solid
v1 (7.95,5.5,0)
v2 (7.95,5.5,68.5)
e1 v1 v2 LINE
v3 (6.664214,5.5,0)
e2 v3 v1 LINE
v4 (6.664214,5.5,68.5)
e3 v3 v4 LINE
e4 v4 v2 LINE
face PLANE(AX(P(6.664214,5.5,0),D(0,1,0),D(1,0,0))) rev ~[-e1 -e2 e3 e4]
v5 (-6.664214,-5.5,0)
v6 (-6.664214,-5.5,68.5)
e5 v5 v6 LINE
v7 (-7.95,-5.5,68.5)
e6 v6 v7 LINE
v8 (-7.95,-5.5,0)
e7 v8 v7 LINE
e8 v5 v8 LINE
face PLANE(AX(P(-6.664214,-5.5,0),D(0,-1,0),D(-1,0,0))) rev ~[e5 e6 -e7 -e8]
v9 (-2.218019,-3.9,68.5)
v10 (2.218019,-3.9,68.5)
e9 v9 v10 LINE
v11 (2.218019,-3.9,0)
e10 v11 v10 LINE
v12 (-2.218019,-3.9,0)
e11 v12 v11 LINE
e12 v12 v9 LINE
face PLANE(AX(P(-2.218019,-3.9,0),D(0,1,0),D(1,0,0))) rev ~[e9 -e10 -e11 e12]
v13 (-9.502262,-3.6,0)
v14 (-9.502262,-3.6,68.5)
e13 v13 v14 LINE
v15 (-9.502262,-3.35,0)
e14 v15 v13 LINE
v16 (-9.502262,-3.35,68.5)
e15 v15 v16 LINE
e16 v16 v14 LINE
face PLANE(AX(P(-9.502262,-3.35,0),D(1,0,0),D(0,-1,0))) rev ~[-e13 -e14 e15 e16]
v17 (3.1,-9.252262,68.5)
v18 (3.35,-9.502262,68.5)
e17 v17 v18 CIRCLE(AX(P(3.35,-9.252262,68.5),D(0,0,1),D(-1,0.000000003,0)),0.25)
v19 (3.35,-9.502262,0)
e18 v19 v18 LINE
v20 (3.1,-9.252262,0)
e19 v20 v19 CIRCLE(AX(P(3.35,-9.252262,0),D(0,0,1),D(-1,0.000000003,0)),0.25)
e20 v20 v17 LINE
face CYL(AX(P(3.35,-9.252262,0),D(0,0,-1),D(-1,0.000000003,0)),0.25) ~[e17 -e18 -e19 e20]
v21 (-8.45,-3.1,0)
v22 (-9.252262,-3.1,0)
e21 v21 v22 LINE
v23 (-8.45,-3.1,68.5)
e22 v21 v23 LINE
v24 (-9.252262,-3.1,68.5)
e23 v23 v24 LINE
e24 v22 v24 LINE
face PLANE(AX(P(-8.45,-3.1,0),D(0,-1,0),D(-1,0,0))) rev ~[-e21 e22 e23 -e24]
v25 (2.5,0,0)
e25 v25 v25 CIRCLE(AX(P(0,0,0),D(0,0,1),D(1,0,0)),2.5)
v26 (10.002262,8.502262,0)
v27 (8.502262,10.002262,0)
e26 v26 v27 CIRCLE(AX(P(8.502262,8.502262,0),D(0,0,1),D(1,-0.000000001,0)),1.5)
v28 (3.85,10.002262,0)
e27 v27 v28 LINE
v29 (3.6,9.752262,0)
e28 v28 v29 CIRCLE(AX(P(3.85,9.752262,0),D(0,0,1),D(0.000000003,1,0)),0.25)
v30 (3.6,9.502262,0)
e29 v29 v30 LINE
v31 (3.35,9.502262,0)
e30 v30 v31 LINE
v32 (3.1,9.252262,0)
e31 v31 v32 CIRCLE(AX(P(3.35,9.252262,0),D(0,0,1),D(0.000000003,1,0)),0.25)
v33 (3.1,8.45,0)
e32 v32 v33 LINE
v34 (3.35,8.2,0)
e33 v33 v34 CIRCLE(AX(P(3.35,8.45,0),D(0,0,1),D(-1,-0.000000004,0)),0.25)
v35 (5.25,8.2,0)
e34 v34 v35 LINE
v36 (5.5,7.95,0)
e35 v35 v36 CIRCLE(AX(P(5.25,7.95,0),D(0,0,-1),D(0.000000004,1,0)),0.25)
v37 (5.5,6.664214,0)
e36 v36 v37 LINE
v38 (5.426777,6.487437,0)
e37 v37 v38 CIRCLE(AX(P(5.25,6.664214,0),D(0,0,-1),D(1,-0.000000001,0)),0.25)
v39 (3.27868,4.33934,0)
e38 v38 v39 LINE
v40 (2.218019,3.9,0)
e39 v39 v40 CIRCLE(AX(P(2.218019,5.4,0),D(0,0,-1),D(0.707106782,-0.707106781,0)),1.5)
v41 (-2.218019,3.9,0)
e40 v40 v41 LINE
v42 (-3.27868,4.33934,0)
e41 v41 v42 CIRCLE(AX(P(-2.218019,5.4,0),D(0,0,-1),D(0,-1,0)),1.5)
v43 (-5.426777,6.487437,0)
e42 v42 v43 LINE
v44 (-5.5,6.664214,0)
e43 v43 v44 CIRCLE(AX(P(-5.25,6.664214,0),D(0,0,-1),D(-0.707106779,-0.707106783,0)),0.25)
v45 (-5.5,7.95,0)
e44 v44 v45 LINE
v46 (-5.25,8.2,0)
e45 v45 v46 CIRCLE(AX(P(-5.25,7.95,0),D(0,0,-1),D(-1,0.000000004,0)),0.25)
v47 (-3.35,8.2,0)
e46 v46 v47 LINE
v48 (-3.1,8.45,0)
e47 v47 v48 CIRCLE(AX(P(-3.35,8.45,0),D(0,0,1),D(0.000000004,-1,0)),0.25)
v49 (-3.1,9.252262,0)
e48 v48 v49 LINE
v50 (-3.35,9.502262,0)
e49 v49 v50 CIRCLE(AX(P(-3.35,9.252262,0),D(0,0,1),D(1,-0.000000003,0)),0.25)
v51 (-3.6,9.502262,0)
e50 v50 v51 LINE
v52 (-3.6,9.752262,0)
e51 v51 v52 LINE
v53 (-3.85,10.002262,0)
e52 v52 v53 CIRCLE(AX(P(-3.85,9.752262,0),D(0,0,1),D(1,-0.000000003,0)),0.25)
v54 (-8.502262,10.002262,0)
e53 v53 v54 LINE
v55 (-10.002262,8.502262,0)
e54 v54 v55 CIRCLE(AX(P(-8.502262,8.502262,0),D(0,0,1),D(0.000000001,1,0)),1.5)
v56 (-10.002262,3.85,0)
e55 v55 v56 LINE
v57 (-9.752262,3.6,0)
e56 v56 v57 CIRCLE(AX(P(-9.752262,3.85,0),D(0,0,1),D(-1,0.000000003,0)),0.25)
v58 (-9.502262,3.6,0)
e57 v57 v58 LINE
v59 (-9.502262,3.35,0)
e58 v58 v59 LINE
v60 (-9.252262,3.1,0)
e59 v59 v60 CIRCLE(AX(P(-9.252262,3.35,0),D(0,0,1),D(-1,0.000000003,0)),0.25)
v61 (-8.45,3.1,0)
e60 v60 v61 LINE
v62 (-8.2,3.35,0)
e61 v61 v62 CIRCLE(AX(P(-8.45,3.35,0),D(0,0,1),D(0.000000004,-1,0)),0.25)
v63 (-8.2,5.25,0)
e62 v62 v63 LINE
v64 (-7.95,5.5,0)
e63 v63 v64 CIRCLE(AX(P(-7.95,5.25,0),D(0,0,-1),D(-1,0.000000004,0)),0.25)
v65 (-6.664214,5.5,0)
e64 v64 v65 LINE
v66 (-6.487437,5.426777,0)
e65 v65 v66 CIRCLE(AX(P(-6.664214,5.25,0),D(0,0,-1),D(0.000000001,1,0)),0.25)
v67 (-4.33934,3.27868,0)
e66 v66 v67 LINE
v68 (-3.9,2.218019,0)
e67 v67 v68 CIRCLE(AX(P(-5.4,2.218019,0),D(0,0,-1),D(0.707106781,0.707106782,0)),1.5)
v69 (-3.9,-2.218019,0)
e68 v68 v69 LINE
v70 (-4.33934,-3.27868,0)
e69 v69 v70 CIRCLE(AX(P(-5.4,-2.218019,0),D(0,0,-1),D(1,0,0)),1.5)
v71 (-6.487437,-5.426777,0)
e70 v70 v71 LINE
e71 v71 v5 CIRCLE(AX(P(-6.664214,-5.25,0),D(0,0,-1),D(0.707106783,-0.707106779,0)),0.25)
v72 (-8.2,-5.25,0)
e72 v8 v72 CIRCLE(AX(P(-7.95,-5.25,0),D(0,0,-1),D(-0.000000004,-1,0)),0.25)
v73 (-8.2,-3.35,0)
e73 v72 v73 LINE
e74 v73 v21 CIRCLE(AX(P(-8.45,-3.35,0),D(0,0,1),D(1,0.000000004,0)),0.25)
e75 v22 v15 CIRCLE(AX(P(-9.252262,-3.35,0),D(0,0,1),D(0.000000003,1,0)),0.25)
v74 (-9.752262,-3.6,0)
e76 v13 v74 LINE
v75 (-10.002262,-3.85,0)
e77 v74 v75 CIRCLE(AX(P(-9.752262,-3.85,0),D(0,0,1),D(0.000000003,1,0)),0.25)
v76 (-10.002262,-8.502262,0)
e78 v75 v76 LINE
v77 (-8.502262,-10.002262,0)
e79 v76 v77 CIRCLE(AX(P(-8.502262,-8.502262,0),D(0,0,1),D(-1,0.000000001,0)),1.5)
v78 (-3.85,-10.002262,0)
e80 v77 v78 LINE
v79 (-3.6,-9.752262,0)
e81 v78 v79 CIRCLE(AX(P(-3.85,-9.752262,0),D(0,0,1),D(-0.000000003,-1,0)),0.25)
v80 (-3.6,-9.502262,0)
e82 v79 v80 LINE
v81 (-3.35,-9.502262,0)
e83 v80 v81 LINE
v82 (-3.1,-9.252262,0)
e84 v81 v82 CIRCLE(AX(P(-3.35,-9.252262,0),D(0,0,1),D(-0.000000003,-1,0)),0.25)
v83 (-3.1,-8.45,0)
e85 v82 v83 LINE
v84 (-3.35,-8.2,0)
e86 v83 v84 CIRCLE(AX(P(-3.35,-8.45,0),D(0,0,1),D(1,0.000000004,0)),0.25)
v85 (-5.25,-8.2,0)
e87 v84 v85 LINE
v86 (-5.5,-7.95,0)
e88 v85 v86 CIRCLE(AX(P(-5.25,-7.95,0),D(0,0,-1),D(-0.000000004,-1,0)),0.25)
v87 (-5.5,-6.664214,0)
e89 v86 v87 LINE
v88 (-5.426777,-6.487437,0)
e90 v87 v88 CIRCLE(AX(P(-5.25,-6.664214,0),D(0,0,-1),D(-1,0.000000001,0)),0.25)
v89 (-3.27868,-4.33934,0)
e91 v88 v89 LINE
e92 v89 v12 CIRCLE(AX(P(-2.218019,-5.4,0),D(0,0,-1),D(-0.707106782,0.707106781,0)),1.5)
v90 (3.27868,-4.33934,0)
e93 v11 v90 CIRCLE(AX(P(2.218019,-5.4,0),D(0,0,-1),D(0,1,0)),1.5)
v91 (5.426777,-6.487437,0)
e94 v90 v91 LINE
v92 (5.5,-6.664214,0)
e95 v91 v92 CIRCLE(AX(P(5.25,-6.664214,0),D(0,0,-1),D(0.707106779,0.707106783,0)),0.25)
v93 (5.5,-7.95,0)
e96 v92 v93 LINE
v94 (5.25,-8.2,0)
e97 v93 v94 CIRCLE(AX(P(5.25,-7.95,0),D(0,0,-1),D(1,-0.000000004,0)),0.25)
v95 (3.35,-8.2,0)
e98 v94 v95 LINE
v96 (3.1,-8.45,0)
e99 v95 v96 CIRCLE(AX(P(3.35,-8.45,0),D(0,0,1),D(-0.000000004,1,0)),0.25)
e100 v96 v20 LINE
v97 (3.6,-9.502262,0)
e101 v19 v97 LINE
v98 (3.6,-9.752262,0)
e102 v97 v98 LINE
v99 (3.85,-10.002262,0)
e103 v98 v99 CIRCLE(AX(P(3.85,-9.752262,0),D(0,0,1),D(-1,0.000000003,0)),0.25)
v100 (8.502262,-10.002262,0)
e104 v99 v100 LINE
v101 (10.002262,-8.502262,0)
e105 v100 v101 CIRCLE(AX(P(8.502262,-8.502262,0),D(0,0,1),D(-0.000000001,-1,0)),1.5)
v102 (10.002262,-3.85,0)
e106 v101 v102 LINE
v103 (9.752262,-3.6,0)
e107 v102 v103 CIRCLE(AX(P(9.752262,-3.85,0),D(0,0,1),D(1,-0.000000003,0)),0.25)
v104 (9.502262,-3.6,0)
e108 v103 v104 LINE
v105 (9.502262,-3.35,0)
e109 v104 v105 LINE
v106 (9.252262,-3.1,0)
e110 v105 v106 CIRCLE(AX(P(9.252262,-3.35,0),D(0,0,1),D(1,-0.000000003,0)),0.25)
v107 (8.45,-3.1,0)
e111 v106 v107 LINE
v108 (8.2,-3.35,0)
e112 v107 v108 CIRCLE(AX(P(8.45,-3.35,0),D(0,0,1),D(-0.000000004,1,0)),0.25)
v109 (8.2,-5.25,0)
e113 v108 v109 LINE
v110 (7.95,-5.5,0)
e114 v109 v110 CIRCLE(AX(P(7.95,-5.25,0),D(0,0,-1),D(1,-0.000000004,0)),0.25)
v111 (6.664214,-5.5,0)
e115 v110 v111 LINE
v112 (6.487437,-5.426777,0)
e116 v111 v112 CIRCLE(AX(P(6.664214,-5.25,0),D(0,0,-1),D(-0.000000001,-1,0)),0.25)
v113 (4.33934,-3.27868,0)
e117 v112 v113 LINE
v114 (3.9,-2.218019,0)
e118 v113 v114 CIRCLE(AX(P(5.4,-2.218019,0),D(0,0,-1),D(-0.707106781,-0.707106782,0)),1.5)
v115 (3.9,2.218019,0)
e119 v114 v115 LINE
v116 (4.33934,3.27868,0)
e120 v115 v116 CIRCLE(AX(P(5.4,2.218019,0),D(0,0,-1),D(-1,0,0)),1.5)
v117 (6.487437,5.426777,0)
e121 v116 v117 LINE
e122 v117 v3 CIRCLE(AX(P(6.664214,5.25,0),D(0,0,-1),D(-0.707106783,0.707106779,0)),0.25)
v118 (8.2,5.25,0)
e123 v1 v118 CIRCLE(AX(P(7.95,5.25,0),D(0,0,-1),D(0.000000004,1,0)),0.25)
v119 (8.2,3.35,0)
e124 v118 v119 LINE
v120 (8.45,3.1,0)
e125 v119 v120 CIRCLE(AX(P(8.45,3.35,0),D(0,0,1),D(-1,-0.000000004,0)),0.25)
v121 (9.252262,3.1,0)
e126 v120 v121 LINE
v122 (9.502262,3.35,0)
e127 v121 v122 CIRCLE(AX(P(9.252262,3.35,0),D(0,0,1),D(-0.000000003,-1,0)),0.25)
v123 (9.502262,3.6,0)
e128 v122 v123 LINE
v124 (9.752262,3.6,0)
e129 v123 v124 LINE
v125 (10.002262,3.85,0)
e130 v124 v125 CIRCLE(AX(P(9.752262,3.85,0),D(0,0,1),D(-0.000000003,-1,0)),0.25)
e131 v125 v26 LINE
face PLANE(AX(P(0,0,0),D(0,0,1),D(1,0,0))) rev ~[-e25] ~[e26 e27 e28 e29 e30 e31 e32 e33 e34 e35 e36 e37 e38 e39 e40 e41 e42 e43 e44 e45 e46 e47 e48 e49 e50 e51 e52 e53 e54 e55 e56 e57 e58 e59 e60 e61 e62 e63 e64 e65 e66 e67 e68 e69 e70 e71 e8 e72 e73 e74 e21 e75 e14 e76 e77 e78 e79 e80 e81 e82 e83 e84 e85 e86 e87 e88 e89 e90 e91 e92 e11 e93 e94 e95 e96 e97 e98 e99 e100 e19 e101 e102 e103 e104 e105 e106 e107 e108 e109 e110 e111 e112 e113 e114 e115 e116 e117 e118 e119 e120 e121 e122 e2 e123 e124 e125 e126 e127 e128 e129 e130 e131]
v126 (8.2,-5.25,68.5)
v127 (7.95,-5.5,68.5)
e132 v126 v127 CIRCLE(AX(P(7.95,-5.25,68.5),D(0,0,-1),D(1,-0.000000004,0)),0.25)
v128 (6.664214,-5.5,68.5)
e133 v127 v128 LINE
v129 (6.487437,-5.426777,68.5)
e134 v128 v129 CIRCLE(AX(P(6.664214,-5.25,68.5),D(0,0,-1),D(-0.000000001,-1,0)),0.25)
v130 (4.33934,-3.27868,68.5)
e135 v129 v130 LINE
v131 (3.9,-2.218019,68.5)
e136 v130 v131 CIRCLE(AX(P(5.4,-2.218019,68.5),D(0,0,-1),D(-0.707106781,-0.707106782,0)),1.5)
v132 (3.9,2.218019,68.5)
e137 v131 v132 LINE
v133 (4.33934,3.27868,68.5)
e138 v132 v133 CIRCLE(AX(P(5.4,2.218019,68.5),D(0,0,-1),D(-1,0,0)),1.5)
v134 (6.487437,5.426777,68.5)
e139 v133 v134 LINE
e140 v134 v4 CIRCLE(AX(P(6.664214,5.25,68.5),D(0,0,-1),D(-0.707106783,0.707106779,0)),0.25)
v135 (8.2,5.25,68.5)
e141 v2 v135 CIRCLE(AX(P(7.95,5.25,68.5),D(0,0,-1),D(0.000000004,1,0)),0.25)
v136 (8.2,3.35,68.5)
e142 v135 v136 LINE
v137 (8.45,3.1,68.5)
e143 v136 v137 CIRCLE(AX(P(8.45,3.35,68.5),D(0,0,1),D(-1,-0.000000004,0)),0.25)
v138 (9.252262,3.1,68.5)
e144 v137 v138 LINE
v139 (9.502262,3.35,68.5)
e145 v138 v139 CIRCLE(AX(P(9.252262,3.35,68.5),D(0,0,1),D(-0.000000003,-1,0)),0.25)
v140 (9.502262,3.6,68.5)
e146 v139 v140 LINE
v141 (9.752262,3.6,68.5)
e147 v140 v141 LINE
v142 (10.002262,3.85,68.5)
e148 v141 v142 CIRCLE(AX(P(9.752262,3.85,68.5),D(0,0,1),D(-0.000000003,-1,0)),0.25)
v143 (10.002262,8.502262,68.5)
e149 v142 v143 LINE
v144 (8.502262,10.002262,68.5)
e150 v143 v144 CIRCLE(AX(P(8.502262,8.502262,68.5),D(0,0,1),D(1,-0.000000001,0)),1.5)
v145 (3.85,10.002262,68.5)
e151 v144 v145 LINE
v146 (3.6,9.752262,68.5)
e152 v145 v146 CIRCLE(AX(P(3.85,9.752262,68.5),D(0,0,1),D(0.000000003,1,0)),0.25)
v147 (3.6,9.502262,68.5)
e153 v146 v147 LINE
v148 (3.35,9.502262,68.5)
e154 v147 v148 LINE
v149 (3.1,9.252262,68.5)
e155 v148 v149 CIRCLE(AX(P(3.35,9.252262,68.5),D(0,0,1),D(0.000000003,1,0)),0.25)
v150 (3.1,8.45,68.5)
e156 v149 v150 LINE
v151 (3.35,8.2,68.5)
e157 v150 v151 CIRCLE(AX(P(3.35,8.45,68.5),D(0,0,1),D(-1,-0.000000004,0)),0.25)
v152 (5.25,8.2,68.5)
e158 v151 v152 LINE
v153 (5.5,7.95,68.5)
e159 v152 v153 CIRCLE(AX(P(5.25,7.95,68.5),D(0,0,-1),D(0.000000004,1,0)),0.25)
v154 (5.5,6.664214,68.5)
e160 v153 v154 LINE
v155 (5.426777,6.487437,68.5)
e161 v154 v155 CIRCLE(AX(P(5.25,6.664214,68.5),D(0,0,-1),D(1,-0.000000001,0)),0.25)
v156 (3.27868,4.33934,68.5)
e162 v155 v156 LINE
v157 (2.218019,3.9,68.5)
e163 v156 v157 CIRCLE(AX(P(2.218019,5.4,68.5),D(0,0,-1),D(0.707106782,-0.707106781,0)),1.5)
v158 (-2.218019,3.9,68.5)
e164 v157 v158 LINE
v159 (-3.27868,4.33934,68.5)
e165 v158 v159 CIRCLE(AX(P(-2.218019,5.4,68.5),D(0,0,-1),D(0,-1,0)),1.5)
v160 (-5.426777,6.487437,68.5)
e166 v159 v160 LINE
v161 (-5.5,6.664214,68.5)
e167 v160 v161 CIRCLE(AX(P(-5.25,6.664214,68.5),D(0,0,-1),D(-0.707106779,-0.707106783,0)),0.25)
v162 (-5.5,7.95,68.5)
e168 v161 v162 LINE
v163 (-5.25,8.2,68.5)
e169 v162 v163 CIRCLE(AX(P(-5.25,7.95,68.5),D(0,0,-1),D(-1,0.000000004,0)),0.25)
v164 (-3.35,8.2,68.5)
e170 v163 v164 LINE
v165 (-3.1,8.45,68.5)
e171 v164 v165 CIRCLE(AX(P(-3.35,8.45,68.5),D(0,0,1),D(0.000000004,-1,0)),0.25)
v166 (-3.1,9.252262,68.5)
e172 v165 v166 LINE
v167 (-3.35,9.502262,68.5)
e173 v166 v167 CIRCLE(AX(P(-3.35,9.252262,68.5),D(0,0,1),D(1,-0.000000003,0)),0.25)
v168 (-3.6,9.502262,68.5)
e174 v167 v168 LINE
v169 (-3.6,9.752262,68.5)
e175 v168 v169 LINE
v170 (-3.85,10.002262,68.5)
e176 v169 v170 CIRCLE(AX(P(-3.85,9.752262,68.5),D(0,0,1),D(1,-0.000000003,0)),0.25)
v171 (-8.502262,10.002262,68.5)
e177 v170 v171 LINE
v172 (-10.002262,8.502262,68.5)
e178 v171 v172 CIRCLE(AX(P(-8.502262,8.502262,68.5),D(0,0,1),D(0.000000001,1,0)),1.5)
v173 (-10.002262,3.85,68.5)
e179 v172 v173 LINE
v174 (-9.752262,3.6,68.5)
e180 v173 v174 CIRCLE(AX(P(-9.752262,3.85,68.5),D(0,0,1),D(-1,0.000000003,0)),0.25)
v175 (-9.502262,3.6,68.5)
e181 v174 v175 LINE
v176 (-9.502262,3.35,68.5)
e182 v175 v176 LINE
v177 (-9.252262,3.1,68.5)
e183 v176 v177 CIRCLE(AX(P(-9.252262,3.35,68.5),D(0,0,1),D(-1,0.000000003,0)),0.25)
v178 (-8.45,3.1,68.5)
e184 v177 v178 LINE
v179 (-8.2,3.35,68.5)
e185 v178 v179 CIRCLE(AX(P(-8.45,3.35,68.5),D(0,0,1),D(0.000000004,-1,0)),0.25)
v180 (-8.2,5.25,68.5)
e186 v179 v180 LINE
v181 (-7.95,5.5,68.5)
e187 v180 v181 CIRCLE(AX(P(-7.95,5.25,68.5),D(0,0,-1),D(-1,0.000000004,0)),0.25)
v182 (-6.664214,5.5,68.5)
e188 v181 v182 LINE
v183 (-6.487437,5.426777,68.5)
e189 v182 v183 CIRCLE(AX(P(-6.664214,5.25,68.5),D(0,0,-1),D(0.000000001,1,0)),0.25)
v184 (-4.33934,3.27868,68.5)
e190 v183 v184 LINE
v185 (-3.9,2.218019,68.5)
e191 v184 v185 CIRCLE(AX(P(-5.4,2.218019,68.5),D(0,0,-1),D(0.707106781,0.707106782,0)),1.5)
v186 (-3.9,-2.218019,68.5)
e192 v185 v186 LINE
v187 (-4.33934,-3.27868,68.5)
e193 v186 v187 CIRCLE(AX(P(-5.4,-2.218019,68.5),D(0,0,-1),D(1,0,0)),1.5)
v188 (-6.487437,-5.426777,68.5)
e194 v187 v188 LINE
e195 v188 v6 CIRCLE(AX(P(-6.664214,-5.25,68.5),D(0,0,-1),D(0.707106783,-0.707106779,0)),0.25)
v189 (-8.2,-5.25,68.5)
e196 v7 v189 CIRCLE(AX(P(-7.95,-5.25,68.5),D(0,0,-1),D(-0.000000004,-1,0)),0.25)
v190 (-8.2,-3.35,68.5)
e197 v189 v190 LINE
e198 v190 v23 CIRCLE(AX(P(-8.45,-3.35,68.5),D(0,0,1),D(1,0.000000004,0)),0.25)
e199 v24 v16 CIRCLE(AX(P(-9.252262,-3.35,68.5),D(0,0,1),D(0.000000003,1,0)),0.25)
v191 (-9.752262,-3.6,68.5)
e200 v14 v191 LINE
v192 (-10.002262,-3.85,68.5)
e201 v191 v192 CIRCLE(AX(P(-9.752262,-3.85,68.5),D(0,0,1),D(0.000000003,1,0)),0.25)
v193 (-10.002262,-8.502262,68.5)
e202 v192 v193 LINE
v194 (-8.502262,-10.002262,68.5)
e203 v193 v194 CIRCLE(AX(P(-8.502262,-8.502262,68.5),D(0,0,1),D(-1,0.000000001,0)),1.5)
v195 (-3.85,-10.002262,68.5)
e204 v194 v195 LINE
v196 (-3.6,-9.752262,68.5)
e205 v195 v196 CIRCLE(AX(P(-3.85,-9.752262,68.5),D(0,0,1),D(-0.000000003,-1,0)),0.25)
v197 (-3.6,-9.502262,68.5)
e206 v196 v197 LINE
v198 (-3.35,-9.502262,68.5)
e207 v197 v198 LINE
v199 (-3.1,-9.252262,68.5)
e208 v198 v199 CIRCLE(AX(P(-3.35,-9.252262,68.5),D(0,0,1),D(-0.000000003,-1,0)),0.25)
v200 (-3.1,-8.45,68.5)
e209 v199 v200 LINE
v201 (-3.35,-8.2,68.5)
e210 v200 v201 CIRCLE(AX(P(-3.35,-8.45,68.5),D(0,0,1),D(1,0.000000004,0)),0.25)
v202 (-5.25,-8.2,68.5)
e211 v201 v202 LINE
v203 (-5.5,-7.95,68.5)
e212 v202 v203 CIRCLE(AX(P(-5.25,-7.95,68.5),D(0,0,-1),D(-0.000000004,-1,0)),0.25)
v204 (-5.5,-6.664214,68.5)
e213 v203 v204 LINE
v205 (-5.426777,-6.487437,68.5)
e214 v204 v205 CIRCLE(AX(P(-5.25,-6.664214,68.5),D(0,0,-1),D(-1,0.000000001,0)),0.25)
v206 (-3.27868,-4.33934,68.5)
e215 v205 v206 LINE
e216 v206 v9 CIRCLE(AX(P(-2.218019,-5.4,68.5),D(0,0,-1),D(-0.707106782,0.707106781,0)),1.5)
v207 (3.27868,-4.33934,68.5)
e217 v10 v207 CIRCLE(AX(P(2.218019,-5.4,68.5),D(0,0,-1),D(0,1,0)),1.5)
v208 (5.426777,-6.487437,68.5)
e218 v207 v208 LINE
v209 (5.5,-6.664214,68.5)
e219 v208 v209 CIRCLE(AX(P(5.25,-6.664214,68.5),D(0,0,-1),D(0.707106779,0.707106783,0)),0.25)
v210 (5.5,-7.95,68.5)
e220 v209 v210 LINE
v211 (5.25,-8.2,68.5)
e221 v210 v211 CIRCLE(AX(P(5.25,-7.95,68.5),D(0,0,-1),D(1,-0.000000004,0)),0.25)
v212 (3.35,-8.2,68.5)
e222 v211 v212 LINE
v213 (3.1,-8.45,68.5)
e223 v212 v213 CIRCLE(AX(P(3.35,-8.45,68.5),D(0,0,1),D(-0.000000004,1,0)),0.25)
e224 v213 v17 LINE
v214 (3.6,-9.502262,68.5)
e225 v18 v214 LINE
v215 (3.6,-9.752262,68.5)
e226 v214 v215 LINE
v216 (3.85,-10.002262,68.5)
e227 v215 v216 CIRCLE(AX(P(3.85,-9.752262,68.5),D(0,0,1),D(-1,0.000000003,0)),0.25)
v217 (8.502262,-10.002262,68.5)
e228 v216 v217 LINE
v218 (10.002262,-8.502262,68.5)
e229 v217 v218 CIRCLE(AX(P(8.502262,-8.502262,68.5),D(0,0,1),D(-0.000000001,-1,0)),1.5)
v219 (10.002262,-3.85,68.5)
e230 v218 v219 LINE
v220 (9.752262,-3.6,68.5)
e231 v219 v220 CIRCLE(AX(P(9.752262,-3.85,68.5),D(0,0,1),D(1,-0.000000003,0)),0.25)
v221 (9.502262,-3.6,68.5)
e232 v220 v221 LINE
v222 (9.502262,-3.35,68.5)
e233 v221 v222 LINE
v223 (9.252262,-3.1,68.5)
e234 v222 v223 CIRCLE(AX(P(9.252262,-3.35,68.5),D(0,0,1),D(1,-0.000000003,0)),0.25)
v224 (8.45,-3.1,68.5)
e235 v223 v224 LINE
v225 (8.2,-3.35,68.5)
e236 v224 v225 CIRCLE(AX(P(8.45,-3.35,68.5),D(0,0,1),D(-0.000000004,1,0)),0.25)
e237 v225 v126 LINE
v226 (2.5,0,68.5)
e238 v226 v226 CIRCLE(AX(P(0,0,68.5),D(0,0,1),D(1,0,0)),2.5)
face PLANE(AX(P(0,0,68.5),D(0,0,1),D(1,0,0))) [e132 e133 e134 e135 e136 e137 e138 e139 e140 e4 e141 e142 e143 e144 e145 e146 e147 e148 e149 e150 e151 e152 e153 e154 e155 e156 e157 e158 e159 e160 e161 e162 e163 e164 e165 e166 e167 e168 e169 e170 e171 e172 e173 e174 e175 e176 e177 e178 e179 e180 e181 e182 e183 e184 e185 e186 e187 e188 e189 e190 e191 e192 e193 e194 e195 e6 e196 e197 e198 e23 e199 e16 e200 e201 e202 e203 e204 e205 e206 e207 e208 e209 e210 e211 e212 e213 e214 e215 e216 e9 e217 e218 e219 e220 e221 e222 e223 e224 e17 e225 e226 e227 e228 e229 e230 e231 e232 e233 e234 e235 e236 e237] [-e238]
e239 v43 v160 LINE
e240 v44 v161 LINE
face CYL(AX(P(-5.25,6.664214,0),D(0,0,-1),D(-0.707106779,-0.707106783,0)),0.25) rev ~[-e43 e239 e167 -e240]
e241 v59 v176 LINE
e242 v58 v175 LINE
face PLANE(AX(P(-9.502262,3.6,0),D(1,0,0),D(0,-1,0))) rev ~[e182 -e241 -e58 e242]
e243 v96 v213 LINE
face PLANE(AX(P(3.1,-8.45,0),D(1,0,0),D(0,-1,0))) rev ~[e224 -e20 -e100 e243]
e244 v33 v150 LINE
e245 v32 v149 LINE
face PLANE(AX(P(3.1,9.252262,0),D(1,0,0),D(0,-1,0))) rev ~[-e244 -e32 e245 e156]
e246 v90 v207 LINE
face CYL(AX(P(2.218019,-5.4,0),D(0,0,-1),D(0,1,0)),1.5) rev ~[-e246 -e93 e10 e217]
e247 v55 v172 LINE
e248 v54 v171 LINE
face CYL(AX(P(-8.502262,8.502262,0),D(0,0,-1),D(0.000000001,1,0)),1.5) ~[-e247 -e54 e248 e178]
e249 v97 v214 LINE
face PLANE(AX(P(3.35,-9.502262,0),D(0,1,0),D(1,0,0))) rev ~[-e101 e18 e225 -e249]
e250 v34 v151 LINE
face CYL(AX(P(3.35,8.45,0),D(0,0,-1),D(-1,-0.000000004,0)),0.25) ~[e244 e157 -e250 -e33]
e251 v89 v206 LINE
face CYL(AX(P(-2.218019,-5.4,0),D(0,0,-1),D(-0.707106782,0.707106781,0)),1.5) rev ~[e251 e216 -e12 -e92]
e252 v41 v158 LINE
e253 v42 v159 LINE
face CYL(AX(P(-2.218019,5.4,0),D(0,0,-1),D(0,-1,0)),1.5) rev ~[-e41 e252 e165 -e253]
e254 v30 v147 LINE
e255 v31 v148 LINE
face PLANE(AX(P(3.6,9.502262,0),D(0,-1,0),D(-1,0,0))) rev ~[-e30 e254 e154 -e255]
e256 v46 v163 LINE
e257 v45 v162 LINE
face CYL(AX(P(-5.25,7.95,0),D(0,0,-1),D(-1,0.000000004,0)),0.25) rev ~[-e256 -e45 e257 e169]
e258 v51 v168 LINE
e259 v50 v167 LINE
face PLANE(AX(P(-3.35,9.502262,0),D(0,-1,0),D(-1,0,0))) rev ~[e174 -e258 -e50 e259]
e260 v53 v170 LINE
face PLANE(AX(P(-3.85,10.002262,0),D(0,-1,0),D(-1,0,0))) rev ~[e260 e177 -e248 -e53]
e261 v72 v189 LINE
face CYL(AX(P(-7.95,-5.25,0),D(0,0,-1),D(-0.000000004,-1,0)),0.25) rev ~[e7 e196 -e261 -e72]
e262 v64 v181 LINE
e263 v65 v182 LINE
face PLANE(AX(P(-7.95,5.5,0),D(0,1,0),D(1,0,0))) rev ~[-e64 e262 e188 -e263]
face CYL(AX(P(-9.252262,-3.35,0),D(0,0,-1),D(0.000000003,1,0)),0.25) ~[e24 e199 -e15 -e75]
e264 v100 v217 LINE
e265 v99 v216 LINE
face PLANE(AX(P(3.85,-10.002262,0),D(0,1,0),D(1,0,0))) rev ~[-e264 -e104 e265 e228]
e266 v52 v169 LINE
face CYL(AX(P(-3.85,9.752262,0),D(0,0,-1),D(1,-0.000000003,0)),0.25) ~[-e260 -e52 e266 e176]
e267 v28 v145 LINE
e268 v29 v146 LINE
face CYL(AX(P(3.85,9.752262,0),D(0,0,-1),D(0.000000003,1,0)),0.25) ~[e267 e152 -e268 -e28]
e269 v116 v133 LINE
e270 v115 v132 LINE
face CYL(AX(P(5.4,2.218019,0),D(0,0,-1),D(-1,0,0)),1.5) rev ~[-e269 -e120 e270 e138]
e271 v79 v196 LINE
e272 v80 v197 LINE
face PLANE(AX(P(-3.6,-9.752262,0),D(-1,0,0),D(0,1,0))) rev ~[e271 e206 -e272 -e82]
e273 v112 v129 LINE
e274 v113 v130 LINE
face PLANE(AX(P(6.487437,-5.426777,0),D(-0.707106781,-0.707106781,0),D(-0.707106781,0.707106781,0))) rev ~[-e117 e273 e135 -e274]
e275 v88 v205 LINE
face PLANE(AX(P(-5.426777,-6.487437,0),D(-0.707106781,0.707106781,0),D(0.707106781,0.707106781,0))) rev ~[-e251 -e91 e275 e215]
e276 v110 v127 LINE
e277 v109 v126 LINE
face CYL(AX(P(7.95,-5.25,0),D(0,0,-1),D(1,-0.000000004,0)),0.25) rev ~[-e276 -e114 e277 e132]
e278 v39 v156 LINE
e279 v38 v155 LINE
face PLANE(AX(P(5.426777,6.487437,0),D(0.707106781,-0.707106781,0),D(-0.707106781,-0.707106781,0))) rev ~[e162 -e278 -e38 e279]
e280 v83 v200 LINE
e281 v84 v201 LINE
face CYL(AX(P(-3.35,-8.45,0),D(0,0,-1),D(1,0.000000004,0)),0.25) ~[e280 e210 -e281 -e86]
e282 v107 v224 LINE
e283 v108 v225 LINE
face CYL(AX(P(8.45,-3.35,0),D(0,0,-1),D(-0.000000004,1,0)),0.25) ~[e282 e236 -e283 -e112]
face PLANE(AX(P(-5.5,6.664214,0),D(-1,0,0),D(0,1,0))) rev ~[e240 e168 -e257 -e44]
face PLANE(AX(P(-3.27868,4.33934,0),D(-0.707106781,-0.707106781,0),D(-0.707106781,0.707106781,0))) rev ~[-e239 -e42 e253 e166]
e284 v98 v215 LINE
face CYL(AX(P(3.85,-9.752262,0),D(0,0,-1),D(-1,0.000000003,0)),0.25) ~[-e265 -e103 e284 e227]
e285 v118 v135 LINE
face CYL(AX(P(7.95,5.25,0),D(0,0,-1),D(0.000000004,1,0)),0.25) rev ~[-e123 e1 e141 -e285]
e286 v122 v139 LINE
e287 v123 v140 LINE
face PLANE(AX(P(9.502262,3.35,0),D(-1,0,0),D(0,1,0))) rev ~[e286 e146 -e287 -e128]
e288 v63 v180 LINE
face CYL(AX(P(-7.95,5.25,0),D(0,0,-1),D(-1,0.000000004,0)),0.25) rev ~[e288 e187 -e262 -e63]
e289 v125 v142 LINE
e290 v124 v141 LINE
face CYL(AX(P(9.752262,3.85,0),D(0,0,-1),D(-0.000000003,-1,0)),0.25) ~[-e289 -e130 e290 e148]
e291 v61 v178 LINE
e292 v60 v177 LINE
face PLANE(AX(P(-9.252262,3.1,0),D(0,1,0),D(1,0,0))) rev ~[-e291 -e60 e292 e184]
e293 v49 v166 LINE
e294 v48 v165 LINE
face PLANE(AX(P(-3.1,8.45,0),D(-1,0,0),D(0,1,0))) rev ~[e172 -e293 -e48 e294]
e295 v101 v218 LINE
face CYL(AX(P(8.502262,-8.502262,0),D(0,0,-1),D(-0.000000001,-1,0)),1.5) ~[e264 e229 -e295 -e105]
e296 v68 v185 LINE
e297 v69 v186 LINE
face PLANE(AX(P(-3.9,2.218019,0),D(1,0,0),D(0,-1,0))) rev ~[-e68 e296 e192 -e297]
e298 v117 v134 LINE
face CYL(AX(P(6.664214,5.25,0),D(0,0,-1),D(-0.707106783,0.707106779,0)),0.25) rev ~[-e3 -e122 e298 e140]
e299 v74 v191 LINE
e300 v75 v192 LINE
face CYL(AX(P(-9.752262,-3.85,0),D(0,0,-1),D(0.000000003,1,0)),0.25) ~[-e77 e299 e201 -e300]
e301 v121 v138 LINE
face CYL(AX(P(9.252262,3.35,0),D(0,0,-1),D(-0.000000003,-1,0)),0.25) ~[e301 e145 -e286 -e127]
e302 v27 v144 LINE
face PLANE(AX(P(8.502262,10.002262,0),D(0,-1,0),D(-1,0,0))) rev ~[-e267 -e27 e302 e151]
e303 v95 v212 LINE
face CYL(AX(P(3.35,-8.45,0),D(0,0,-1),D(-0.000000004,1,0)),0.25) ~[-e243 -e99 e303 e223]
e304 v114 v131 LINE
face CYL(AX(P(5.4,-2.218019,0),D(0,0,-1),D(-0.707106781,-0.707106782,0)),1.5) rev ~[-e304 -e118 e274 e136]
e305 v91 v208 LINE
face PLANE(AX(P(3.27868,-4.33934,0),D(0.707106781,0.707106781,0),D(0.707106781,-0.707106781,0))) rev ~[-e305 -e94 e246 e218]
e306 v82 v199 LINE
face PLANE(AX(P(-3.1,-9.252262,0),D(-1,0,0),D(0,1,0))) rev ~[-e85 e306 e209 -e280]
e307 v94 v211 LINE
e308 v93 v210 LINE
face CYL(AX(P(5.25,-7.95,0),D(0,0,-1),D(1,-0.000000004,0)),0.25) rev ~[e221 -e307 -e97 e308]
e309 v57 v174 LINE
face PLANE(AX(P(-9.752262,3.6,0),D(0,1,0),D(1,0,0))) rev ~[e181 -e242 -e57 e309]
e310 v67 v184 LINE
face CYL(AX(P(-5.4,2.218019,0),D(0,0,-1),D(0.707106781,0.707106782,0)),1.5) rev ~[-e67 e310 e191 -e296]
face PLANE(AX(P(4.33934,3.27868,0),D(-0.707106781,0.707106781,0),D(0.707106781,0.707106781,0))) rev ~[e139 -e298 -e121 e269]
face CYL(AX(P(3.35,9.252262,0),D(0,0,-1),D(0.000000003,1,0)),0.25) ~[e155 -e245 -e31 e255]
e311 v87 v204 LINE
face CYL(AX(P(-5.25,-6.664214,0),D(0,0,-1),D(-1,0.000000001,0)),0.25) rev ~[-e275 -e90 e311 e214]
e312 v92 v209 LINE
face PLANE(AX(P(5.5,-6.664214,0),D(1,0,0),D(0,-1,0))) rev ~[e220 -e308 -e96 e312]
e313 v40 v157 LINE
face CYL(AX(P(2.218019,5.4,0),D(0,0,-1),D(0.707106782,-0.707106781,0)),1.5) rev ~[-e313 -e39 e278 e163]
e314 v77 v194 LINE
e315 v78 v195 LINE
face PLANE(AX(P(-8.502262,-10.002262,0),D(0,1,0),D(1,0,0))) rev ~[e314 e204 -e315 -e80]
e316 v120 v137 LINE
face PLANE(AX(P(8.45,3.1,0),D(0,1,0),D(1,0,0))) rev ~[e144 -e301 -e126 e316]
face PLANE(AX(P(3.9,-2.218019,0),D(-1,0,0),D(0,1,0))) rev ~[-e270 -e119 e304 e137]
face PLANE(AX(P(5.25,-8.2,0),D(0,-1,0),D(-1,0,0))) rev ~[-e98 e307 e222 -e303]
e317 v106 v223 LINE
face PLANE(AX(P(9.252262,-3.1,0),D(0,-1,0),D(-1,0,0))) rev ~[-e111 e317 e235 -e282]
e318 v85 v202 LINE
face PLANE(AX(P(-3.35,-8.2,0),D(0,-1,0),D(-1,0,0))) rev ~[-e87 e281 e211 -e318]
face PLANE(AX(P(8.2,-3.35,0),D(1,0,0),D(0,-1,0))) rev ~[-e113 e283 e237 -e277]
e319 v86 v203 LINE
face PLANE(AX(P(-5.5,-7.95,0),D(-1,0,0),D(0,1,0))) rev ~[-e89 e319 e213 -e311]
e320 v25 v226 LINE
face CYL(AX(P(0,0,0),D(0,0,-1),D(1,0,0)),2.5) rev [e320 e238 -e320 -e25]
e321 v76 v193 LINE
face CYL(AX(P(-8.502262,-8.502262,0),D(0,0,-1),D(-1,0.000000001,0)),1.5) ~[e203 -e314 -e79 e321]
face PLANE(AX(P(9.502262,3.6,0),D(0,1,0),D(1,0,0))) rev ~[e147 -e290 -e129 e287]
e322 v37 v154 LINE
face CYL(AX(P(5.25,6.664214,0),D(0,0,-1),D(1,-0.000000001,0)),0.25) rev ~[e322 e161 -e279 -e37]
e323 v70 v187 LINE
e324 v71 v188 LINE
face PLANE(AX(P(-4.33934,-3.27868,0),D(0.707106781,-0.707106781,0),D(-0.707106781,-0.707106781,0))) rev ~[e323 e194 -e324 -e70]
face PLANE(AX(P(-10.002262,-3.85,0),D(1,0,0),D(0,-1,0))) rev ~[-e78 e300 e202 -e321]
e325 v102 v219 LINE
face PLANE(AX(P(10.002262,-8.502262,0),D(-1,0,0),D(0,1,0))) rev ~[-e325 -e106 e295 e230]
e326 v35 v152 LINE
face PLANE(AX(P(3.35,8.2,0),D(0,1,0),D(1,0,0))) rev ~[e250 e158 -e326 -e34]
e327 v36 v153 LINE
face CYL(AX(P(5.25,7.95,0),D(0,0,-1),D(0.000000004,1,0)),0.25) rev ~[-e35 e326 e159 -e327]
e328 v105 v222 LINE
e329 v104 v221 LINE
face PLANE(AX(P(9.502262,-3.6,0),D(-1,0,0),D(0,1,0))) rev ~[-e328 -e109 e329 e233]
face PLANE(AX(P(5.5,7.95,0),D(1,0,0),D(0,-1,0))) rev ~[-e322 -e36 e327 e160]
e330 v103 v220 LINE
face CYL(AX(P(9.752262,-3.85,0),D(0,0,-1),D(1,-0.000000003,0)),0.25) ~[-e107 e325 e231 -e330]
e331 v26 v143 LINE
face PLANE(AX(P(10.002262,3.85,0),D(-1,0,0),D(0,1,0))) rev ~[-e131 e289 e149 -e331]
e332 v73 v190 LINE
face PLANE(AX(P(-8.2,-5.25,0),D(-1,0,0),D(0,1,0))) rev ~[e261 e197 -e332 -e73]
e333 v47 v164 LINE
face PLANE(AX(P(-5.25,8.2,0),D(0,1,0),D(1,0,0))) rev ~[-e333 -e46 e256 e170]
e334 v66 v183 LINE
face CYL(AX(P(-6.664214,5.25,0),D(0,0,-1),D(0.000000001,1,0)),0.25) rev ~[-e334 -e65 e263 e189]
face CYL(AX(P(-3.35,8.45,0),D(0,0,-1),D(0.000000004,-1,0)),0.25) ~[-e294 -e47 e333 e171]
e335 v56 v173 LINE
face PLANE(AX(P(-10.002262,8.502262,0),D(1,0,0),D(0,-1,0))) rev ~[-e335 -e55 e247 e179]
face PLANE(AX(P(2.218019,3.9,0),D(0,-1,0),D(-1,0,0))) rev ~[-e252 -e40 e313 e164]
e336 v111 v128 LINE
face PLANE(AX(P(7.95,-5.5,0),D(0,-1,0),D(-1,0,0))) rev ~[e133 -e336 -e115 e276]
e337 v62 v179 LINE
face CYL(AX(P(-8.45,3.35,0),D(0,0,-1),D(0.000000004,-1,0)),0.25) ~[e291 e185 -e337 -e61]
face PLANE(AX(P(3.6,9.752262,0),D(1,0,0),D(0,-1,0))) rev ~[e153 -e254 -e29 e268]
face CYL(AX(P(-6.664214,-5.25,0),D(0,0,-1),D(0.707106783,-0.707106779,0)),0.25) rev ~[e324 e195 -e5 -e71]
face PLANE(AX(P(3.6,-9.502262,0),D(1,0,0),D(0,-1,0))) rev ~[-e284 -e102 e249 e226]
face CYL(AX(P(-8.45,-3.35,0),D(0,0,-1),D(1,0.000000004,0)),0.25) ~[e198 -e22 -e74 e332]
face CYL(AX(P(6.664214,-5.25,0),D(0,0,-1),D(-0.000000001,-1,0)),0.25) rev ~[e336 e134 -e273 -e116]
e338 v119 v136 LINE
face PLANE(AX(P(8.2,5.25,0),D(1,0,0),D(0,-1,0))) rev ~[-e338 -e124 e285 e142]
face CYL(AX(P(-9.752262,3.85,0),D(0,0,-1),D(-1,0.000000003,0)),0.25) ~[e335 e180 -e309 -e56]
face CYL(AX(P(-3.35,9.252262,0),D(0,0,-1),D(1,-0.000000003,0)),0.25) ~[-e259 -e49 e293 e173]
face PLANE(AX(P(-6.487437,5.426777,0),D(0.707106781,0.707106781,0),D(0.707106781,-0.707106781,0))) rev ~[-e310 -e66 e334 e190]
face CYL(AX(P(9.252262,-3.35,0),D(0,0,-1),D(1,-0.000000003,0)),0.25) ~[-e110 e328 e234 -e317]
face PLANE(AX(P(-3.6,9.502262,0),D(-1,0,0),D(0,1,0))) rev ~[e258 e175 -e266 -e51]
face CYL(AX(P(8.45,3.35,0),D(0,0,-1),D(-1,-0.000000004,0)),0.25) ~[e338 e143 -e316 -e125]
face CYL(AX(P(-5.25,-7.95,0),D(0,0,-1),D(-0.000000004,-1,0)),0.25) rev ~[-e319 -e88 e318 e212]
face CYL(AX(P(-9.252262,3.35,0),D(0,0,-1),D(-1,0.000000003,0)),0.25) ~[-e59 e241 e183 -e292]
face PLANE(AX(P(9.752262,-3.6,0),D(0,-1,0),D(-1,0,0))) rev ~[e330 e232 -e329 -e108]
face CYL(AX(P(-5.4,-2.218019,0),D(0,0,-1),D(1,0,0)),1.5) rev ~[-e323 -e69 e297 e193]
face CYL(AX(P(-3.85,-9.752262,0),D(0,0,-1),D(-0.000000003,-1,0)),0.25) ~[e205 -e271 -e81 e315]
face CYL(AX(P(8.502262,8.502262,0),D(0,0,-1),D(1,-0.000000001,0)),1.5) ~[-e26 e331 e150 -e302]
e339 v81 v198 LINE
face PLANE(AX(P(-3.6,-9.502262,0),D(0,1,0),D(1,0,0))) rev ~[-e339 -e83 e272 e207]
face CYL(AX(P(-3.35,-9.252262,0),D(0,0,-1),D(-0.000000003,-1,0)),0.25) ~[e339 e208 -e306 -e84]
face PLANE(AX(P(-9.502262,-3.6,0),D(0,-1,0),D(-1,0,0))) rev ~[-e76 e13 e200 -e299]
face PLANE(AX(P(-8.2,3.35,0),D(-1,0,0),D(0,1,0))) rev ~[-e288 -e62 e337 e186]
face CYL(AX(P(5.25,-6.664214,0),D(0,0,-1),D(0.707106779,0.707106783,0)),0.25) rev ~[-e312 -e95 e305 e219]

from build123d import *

# Parameters (mm, degrees)
SKETCH_1_R      = 2.5
EXTRUDE_1_DEPTH = 68.5


with BuildPart() as part:
    # 草图1 → 凸台-拉伸1 (new body)
    with BuildSketch(Plane.XY):
        with BuildLine():
            Line((-8.502261885, -10.002261885), (-3.85, -10.002261885))
            ThreePointArc((-3.85, -10.002261885), (-3.673223305, -9.929038581), (-3.6, -9.752261885))
            Line((-3.6, -9.752261885), (-3.6, -9.502261885))
            Line((-3.6, -9.502261885), (-3.35, -9.502261885))
            ThreePointArc((-3.35, -9.502261885), (-3.173223305, -9.429038581), (-3.1, -9.252261885))
            Line((-3.1, -9.252261885), (-3.1, -8.45))
            ThreePointArc((-3.1, -8.45), (-3.173223305, -8.273223305), (-3.35, -8.2))
            Line((-3.35, -8.2), (-5.25, -8.2))
            ThreePointArc((-5.25, -8.2), (-5.426776695, -8.126776695), (-5.5, -7.95))
            Line((-5.5, -7.95), (-5.5, -6.664213562))
            ThreePointArc((-5.5, -6.664213562), (-5.480969883, -6.568542704), (-5.426776695, -6.487436867))
            Line((-5.426776695, -6.487436867), (-3.278679656, -4.339339828))
            ThreePointArc((-3.278679656, -4.339339828), (-2.792044633, -4.014180701), (-2.218019485, -3.9))
            Line((-2.218019485, -3.9), (2.218019485, -3.9))
            ThreePointArc((2.218019485, -3.9), (2.792044633, -4.014180701), (3.278679656, -4.339339828))
            Line((3.278679656, -4.339339828), (5.426776695, -6.487436867))
            ThreePointArc((5.426776695, -6.487436867), (5.480969883, -6.568542704), (5.5, -6.664213562))
            Line((5.5, -6.664213562), (5.5, -7.95))
            ThreePointArc((5.5, -7.95), (5.426776695, -8.126776695), (5.25, -8.2))
            Line((5.25, -8.2), (3.35, -8.2))
            ThreePointArc((3.35, -8.2), (3.173223305, -8.273223305), (3.1, -8.45))
            Line((3.1, -8.45), (3.1, -9.252261885))
            ThreePointArc((3.1, -9.252261885), (3.173223305, -9.429038581), (3.35, -9.502261885))
            Line((3.35, -9.502261885), (3.6, -9.502261885))
            Line((3.6, -9.502261885), (3.6, -9.752261885))
            ThreePointArc((3.6, -9.752261885), (3.673223305, -9.929038581), (3.85, -10.002261885))
            Line((3.85, -10.002261885), (8.502261885, -10.002261885))
            ThreePointArc((8.502261885, -10.002261885), (9.562922057, -9.562922057), (10.002261885, -8.502261885))
            Line((10.002261885, -8.502261885), (10.002261885, -3.85))
            ThreePointArc((10.002261885, -3.85), (9.929038581, -3.673223305), (9.752261885, -3.6))
            Line((9.752261885, -3.6), (9.502261885, -3.6))
            Line((9.502261885, -3.6), (9.502261885, -3.35))
            ThreePointArc((9.502261885, -3.35), (9.429038581, -3.173223305), (9.252261885, -3.1))
            Line((9.252261885, -3.1), (8.45, -3.1))
            ThreePointArc((8.45, -3.1), (8.273223305, -3.173223305), (8.2, -3.35))
            Line((8.2, -3.35), (8.2, -5.25))
            ThreePointArc((8.2, -5.25), (8.126776695, -5.426776695), (7.95, -5.5))
            Line((7.95, -5.5), (6.664213562, -5.5))
            ThreePointArc((6.664213562, -5.5), (6.568542704, -5.480969883), (6.487436867, -5.426776695))
            Line((6.487436867, -5.426776695), (4.339339828, -3.278679656))
            ThreePointArc((4.339339828, -3.278679656), (4.014180701, -2.792044633), (3.9, -2.218019485))
            Line((3.9, -2.218019485), (3.9, 2.218019485))
            ThreePointArc((3.9, 2.218019485), (4.014180701, 2.792044633), (4.339339828, 3.278679656))
            Line((4.339339828, 3.278679656), (6.487436867, 5.426776695))
            ThreePointArc((6.487436867, 5.426776695), (6.568542704, 5.480969883), (6.664213562, 5.5))
            Line((6.664213562, 5.5), (7.95, 5.5))
            ThreePointArc((7.95, 5.5), (8.126776695, 5.426776695), (8.2, 5.25))
            Line((8.2, 5.25), (8.2, 3.35))
            ThreePointArc((8.2, 3.35), (8.273223305, 3.173223305), (8.45, 3.1))
            Line((8.45, 3.1), (9.252261885, 3.1))
            ThreePointArc((9.252261885, 3.1), (9.429038581, 3.173223305), (9.502261885, 3.35))
            Line((9.502261885, 3.35), (9.502261885, 3.6))
            Line((9.502261885, 3.6), (9.752261885, 3.6))
            ThreePointArc((9.752261885, 3.6), (9.929038581, 3.673223305), (10.002261885, 3.85))
            Line((10.002261885, 3.85), (10.002261885, 8.502261885))
            ThreePointArc((10.002261885, 8.502261885), (9.562922057, 9.562922057), (8.502261885, 10.002261885))
            Line((8.502261885, 10.002261885), (3.85, 10.002261885))
            ThreePointArc((3.85, 10.002261885), (3.673223305, 9.929038581), (3.6, 9.752261885))
            Line((3.6, 9.752261885), (3.6, 9.502261885))
            Line((3.6, 9.502261885), (3.35, 9.502261885))
            ThreePointArc((3.35, 9.502261885), (3.173223305, 9.429038581), (3.1, 9.252261885))
            Line((3.1, 9.252261885), (3.1, 8.45))
            ThreePointArc((3.1, 8.45), (3.173223305, 8.273223305), (3.35, 8.2))
            Line((3.35, 8.2), (5.25, 8.2))
            ThreePointArc((5.25, 8.2), (5.426776695, 8.126776695), (5.5, 7.95))
            Line((5.5, 7.95), (5.5, 6.664213562))
            ThreePointArc((5.5, 6.664213562), (5.480969883, 6.568542704), (5.426776695, 6.487436867))
            Line((5.426776695, 6.487436867), (3.278679656, 4.339339828))
            ThreePointArc((3.278679656, 4.339339828), (2.792044633, 4.014180701), (2.218019485, 3.9))
            Line((2.218019485, 3.9), (-2.218019485, 3.9))
            ThreePointArc((-2.218019485, 3.9), (-2.792044633, 4.014180701), (-3.278679656, 4.339339828))
            Line((-3.278679656, 4.339339828), (-5.426776695, 6.487436867))
            ThreePointArc((-5.426776695, 6.487436867), (-5.480969883, 6.568542704), (-5.5, 6.664213562))
            Line((-5.5, 6.664213562), (-5.5, 7.95))
            ThreePointArc((-5.5, 7.95), (-5.426776695, 8.126776695), (-5.25, 8.2))
            Line((-5.25, 8.2), (-3.35, 8.2))
            ThreePointArc((-3.35, 8.2), (-3.173223305, 8.273223305), (-3.1, 8.45))
            Line((-3.1, 8.45), (-3.1, 9.252261885))
            ThreePointArc((-3.1, 9.252261885), (-3.173223305, 9.429038581), (-3.35, 9.502261885))
            Line((-3.35, 9.502261885), (-3.6, 9.502261885))
            Line((-3.6, 9.502261885), (-3.6, 9.752261885))
            ThreePointArc((-3.6, 9.752261885), (-3.673223305, 9.929038581), (-3.85, 10.002261885))
            Line((-3.85, 10.002261885), (-8.502261885, 10.002261885))
            ThreePointArc((-8.502261885, 10.002261885), (-9.562922057, 9.562922057), (-10.002261885, 8.502261885))
            Line((-10.002261885, 8.502261885), (-10.002261885, 3.85))
            ThreePointArc((-10.002261885, 3.85), (-9.929038581, 3.673223305), (-9.752261885, 3.6))
            Line((-9.752261885, 3.6), (-9.502261885, 3.6))
            Line((-9.502261885, 3.6), (-9.502261885, 3.35))
            ThreePointArc((-9.502261885, 3.35), (-9.429038581, 3.173223305), (-9.252261885, 3.1))
            Line((-9.252261885, 3.1), (-8.45, 3.1))
            ThreePointArc((-8.45, 3.1), (-8.273223305, 3.173223305), (-8.2, 3.35))
            Line((-8.2, 3.35), (-8.2, 5.25))
            ThreePointArc((-8.2, 5.25), (-8.126776695, 5.426776695), (-7.95, 5.5))
            Line((-7.95, 5.5), (-6.664213562, 5.5))
            ThreePointArc((-6.664213562, 5.5), (-6.568542704, 5.480969883), (-6.487436867, 5.426776695))
            Line((-6.487436867, 5.426776695), (-4.339339828, 3.278679656))
            ThreePointArc((-4.339339828, 3.278679656), (-4.014180701, 2.792044633), (-3.9, 2.218019485))
            Line((-3.9, 2.218019485), (-3.9, -2.218019485))
            ThreePointArc((-3.9, -2.218019485), (-4.014180701, -2.792044633), (-4.339339828, -3.278679656))
            Line((-4.339339828, -3.278679656), (-6.487436867, -5.426776695))
            ThreePointArc((-6.487436867, -5.426776695), (-6.568542704, -5.480969883), (-6.664213562, -5.5))
            Line((-6.664213562, -5.5), (-7.95, -5.5))
            ThreePointArc((-7.95, -5.5), (-8.126776695, -5.426776695), (-8.2, -5.25))
            Line((-8.2, -5.25), (-8.2, -3.35))
            ThreePointArc((-8.2, -3.35), (-8.273223305, -3.173223305), (-8.45, -3.1))
            Line((-8.45, -3.1), (-9.252261885, -3.1))
            ThreePointArc((-9.252261885, -3.1), (-9.429038581, -3.173223305), (-9.502261885, -3.35))
            Line((-9.502261885, -3.35), (-9.502261885, -3.6))
            Line((-9.502261885, -3.6), (-9.752261885, -3.6))
            ThreePointArc((-9.752261885, -3.6), (-9.929038581, -3.673223305), (-10.002261885, -3.85))
            Line((-10.002261885, -3.85), (-10.002261885, -8.502261885))
            ThreePointArc((-10.002261885, -8.502261885), (-9.562922057, -9.562922057), (-8.502261885, -10.002261885))
        make_face()
        Circle(SKETCH_1_R, mode=Mode.SUBTRACT)
    extrude(amount=EXTRUDE_1_DEPTH)


solid = part.part
